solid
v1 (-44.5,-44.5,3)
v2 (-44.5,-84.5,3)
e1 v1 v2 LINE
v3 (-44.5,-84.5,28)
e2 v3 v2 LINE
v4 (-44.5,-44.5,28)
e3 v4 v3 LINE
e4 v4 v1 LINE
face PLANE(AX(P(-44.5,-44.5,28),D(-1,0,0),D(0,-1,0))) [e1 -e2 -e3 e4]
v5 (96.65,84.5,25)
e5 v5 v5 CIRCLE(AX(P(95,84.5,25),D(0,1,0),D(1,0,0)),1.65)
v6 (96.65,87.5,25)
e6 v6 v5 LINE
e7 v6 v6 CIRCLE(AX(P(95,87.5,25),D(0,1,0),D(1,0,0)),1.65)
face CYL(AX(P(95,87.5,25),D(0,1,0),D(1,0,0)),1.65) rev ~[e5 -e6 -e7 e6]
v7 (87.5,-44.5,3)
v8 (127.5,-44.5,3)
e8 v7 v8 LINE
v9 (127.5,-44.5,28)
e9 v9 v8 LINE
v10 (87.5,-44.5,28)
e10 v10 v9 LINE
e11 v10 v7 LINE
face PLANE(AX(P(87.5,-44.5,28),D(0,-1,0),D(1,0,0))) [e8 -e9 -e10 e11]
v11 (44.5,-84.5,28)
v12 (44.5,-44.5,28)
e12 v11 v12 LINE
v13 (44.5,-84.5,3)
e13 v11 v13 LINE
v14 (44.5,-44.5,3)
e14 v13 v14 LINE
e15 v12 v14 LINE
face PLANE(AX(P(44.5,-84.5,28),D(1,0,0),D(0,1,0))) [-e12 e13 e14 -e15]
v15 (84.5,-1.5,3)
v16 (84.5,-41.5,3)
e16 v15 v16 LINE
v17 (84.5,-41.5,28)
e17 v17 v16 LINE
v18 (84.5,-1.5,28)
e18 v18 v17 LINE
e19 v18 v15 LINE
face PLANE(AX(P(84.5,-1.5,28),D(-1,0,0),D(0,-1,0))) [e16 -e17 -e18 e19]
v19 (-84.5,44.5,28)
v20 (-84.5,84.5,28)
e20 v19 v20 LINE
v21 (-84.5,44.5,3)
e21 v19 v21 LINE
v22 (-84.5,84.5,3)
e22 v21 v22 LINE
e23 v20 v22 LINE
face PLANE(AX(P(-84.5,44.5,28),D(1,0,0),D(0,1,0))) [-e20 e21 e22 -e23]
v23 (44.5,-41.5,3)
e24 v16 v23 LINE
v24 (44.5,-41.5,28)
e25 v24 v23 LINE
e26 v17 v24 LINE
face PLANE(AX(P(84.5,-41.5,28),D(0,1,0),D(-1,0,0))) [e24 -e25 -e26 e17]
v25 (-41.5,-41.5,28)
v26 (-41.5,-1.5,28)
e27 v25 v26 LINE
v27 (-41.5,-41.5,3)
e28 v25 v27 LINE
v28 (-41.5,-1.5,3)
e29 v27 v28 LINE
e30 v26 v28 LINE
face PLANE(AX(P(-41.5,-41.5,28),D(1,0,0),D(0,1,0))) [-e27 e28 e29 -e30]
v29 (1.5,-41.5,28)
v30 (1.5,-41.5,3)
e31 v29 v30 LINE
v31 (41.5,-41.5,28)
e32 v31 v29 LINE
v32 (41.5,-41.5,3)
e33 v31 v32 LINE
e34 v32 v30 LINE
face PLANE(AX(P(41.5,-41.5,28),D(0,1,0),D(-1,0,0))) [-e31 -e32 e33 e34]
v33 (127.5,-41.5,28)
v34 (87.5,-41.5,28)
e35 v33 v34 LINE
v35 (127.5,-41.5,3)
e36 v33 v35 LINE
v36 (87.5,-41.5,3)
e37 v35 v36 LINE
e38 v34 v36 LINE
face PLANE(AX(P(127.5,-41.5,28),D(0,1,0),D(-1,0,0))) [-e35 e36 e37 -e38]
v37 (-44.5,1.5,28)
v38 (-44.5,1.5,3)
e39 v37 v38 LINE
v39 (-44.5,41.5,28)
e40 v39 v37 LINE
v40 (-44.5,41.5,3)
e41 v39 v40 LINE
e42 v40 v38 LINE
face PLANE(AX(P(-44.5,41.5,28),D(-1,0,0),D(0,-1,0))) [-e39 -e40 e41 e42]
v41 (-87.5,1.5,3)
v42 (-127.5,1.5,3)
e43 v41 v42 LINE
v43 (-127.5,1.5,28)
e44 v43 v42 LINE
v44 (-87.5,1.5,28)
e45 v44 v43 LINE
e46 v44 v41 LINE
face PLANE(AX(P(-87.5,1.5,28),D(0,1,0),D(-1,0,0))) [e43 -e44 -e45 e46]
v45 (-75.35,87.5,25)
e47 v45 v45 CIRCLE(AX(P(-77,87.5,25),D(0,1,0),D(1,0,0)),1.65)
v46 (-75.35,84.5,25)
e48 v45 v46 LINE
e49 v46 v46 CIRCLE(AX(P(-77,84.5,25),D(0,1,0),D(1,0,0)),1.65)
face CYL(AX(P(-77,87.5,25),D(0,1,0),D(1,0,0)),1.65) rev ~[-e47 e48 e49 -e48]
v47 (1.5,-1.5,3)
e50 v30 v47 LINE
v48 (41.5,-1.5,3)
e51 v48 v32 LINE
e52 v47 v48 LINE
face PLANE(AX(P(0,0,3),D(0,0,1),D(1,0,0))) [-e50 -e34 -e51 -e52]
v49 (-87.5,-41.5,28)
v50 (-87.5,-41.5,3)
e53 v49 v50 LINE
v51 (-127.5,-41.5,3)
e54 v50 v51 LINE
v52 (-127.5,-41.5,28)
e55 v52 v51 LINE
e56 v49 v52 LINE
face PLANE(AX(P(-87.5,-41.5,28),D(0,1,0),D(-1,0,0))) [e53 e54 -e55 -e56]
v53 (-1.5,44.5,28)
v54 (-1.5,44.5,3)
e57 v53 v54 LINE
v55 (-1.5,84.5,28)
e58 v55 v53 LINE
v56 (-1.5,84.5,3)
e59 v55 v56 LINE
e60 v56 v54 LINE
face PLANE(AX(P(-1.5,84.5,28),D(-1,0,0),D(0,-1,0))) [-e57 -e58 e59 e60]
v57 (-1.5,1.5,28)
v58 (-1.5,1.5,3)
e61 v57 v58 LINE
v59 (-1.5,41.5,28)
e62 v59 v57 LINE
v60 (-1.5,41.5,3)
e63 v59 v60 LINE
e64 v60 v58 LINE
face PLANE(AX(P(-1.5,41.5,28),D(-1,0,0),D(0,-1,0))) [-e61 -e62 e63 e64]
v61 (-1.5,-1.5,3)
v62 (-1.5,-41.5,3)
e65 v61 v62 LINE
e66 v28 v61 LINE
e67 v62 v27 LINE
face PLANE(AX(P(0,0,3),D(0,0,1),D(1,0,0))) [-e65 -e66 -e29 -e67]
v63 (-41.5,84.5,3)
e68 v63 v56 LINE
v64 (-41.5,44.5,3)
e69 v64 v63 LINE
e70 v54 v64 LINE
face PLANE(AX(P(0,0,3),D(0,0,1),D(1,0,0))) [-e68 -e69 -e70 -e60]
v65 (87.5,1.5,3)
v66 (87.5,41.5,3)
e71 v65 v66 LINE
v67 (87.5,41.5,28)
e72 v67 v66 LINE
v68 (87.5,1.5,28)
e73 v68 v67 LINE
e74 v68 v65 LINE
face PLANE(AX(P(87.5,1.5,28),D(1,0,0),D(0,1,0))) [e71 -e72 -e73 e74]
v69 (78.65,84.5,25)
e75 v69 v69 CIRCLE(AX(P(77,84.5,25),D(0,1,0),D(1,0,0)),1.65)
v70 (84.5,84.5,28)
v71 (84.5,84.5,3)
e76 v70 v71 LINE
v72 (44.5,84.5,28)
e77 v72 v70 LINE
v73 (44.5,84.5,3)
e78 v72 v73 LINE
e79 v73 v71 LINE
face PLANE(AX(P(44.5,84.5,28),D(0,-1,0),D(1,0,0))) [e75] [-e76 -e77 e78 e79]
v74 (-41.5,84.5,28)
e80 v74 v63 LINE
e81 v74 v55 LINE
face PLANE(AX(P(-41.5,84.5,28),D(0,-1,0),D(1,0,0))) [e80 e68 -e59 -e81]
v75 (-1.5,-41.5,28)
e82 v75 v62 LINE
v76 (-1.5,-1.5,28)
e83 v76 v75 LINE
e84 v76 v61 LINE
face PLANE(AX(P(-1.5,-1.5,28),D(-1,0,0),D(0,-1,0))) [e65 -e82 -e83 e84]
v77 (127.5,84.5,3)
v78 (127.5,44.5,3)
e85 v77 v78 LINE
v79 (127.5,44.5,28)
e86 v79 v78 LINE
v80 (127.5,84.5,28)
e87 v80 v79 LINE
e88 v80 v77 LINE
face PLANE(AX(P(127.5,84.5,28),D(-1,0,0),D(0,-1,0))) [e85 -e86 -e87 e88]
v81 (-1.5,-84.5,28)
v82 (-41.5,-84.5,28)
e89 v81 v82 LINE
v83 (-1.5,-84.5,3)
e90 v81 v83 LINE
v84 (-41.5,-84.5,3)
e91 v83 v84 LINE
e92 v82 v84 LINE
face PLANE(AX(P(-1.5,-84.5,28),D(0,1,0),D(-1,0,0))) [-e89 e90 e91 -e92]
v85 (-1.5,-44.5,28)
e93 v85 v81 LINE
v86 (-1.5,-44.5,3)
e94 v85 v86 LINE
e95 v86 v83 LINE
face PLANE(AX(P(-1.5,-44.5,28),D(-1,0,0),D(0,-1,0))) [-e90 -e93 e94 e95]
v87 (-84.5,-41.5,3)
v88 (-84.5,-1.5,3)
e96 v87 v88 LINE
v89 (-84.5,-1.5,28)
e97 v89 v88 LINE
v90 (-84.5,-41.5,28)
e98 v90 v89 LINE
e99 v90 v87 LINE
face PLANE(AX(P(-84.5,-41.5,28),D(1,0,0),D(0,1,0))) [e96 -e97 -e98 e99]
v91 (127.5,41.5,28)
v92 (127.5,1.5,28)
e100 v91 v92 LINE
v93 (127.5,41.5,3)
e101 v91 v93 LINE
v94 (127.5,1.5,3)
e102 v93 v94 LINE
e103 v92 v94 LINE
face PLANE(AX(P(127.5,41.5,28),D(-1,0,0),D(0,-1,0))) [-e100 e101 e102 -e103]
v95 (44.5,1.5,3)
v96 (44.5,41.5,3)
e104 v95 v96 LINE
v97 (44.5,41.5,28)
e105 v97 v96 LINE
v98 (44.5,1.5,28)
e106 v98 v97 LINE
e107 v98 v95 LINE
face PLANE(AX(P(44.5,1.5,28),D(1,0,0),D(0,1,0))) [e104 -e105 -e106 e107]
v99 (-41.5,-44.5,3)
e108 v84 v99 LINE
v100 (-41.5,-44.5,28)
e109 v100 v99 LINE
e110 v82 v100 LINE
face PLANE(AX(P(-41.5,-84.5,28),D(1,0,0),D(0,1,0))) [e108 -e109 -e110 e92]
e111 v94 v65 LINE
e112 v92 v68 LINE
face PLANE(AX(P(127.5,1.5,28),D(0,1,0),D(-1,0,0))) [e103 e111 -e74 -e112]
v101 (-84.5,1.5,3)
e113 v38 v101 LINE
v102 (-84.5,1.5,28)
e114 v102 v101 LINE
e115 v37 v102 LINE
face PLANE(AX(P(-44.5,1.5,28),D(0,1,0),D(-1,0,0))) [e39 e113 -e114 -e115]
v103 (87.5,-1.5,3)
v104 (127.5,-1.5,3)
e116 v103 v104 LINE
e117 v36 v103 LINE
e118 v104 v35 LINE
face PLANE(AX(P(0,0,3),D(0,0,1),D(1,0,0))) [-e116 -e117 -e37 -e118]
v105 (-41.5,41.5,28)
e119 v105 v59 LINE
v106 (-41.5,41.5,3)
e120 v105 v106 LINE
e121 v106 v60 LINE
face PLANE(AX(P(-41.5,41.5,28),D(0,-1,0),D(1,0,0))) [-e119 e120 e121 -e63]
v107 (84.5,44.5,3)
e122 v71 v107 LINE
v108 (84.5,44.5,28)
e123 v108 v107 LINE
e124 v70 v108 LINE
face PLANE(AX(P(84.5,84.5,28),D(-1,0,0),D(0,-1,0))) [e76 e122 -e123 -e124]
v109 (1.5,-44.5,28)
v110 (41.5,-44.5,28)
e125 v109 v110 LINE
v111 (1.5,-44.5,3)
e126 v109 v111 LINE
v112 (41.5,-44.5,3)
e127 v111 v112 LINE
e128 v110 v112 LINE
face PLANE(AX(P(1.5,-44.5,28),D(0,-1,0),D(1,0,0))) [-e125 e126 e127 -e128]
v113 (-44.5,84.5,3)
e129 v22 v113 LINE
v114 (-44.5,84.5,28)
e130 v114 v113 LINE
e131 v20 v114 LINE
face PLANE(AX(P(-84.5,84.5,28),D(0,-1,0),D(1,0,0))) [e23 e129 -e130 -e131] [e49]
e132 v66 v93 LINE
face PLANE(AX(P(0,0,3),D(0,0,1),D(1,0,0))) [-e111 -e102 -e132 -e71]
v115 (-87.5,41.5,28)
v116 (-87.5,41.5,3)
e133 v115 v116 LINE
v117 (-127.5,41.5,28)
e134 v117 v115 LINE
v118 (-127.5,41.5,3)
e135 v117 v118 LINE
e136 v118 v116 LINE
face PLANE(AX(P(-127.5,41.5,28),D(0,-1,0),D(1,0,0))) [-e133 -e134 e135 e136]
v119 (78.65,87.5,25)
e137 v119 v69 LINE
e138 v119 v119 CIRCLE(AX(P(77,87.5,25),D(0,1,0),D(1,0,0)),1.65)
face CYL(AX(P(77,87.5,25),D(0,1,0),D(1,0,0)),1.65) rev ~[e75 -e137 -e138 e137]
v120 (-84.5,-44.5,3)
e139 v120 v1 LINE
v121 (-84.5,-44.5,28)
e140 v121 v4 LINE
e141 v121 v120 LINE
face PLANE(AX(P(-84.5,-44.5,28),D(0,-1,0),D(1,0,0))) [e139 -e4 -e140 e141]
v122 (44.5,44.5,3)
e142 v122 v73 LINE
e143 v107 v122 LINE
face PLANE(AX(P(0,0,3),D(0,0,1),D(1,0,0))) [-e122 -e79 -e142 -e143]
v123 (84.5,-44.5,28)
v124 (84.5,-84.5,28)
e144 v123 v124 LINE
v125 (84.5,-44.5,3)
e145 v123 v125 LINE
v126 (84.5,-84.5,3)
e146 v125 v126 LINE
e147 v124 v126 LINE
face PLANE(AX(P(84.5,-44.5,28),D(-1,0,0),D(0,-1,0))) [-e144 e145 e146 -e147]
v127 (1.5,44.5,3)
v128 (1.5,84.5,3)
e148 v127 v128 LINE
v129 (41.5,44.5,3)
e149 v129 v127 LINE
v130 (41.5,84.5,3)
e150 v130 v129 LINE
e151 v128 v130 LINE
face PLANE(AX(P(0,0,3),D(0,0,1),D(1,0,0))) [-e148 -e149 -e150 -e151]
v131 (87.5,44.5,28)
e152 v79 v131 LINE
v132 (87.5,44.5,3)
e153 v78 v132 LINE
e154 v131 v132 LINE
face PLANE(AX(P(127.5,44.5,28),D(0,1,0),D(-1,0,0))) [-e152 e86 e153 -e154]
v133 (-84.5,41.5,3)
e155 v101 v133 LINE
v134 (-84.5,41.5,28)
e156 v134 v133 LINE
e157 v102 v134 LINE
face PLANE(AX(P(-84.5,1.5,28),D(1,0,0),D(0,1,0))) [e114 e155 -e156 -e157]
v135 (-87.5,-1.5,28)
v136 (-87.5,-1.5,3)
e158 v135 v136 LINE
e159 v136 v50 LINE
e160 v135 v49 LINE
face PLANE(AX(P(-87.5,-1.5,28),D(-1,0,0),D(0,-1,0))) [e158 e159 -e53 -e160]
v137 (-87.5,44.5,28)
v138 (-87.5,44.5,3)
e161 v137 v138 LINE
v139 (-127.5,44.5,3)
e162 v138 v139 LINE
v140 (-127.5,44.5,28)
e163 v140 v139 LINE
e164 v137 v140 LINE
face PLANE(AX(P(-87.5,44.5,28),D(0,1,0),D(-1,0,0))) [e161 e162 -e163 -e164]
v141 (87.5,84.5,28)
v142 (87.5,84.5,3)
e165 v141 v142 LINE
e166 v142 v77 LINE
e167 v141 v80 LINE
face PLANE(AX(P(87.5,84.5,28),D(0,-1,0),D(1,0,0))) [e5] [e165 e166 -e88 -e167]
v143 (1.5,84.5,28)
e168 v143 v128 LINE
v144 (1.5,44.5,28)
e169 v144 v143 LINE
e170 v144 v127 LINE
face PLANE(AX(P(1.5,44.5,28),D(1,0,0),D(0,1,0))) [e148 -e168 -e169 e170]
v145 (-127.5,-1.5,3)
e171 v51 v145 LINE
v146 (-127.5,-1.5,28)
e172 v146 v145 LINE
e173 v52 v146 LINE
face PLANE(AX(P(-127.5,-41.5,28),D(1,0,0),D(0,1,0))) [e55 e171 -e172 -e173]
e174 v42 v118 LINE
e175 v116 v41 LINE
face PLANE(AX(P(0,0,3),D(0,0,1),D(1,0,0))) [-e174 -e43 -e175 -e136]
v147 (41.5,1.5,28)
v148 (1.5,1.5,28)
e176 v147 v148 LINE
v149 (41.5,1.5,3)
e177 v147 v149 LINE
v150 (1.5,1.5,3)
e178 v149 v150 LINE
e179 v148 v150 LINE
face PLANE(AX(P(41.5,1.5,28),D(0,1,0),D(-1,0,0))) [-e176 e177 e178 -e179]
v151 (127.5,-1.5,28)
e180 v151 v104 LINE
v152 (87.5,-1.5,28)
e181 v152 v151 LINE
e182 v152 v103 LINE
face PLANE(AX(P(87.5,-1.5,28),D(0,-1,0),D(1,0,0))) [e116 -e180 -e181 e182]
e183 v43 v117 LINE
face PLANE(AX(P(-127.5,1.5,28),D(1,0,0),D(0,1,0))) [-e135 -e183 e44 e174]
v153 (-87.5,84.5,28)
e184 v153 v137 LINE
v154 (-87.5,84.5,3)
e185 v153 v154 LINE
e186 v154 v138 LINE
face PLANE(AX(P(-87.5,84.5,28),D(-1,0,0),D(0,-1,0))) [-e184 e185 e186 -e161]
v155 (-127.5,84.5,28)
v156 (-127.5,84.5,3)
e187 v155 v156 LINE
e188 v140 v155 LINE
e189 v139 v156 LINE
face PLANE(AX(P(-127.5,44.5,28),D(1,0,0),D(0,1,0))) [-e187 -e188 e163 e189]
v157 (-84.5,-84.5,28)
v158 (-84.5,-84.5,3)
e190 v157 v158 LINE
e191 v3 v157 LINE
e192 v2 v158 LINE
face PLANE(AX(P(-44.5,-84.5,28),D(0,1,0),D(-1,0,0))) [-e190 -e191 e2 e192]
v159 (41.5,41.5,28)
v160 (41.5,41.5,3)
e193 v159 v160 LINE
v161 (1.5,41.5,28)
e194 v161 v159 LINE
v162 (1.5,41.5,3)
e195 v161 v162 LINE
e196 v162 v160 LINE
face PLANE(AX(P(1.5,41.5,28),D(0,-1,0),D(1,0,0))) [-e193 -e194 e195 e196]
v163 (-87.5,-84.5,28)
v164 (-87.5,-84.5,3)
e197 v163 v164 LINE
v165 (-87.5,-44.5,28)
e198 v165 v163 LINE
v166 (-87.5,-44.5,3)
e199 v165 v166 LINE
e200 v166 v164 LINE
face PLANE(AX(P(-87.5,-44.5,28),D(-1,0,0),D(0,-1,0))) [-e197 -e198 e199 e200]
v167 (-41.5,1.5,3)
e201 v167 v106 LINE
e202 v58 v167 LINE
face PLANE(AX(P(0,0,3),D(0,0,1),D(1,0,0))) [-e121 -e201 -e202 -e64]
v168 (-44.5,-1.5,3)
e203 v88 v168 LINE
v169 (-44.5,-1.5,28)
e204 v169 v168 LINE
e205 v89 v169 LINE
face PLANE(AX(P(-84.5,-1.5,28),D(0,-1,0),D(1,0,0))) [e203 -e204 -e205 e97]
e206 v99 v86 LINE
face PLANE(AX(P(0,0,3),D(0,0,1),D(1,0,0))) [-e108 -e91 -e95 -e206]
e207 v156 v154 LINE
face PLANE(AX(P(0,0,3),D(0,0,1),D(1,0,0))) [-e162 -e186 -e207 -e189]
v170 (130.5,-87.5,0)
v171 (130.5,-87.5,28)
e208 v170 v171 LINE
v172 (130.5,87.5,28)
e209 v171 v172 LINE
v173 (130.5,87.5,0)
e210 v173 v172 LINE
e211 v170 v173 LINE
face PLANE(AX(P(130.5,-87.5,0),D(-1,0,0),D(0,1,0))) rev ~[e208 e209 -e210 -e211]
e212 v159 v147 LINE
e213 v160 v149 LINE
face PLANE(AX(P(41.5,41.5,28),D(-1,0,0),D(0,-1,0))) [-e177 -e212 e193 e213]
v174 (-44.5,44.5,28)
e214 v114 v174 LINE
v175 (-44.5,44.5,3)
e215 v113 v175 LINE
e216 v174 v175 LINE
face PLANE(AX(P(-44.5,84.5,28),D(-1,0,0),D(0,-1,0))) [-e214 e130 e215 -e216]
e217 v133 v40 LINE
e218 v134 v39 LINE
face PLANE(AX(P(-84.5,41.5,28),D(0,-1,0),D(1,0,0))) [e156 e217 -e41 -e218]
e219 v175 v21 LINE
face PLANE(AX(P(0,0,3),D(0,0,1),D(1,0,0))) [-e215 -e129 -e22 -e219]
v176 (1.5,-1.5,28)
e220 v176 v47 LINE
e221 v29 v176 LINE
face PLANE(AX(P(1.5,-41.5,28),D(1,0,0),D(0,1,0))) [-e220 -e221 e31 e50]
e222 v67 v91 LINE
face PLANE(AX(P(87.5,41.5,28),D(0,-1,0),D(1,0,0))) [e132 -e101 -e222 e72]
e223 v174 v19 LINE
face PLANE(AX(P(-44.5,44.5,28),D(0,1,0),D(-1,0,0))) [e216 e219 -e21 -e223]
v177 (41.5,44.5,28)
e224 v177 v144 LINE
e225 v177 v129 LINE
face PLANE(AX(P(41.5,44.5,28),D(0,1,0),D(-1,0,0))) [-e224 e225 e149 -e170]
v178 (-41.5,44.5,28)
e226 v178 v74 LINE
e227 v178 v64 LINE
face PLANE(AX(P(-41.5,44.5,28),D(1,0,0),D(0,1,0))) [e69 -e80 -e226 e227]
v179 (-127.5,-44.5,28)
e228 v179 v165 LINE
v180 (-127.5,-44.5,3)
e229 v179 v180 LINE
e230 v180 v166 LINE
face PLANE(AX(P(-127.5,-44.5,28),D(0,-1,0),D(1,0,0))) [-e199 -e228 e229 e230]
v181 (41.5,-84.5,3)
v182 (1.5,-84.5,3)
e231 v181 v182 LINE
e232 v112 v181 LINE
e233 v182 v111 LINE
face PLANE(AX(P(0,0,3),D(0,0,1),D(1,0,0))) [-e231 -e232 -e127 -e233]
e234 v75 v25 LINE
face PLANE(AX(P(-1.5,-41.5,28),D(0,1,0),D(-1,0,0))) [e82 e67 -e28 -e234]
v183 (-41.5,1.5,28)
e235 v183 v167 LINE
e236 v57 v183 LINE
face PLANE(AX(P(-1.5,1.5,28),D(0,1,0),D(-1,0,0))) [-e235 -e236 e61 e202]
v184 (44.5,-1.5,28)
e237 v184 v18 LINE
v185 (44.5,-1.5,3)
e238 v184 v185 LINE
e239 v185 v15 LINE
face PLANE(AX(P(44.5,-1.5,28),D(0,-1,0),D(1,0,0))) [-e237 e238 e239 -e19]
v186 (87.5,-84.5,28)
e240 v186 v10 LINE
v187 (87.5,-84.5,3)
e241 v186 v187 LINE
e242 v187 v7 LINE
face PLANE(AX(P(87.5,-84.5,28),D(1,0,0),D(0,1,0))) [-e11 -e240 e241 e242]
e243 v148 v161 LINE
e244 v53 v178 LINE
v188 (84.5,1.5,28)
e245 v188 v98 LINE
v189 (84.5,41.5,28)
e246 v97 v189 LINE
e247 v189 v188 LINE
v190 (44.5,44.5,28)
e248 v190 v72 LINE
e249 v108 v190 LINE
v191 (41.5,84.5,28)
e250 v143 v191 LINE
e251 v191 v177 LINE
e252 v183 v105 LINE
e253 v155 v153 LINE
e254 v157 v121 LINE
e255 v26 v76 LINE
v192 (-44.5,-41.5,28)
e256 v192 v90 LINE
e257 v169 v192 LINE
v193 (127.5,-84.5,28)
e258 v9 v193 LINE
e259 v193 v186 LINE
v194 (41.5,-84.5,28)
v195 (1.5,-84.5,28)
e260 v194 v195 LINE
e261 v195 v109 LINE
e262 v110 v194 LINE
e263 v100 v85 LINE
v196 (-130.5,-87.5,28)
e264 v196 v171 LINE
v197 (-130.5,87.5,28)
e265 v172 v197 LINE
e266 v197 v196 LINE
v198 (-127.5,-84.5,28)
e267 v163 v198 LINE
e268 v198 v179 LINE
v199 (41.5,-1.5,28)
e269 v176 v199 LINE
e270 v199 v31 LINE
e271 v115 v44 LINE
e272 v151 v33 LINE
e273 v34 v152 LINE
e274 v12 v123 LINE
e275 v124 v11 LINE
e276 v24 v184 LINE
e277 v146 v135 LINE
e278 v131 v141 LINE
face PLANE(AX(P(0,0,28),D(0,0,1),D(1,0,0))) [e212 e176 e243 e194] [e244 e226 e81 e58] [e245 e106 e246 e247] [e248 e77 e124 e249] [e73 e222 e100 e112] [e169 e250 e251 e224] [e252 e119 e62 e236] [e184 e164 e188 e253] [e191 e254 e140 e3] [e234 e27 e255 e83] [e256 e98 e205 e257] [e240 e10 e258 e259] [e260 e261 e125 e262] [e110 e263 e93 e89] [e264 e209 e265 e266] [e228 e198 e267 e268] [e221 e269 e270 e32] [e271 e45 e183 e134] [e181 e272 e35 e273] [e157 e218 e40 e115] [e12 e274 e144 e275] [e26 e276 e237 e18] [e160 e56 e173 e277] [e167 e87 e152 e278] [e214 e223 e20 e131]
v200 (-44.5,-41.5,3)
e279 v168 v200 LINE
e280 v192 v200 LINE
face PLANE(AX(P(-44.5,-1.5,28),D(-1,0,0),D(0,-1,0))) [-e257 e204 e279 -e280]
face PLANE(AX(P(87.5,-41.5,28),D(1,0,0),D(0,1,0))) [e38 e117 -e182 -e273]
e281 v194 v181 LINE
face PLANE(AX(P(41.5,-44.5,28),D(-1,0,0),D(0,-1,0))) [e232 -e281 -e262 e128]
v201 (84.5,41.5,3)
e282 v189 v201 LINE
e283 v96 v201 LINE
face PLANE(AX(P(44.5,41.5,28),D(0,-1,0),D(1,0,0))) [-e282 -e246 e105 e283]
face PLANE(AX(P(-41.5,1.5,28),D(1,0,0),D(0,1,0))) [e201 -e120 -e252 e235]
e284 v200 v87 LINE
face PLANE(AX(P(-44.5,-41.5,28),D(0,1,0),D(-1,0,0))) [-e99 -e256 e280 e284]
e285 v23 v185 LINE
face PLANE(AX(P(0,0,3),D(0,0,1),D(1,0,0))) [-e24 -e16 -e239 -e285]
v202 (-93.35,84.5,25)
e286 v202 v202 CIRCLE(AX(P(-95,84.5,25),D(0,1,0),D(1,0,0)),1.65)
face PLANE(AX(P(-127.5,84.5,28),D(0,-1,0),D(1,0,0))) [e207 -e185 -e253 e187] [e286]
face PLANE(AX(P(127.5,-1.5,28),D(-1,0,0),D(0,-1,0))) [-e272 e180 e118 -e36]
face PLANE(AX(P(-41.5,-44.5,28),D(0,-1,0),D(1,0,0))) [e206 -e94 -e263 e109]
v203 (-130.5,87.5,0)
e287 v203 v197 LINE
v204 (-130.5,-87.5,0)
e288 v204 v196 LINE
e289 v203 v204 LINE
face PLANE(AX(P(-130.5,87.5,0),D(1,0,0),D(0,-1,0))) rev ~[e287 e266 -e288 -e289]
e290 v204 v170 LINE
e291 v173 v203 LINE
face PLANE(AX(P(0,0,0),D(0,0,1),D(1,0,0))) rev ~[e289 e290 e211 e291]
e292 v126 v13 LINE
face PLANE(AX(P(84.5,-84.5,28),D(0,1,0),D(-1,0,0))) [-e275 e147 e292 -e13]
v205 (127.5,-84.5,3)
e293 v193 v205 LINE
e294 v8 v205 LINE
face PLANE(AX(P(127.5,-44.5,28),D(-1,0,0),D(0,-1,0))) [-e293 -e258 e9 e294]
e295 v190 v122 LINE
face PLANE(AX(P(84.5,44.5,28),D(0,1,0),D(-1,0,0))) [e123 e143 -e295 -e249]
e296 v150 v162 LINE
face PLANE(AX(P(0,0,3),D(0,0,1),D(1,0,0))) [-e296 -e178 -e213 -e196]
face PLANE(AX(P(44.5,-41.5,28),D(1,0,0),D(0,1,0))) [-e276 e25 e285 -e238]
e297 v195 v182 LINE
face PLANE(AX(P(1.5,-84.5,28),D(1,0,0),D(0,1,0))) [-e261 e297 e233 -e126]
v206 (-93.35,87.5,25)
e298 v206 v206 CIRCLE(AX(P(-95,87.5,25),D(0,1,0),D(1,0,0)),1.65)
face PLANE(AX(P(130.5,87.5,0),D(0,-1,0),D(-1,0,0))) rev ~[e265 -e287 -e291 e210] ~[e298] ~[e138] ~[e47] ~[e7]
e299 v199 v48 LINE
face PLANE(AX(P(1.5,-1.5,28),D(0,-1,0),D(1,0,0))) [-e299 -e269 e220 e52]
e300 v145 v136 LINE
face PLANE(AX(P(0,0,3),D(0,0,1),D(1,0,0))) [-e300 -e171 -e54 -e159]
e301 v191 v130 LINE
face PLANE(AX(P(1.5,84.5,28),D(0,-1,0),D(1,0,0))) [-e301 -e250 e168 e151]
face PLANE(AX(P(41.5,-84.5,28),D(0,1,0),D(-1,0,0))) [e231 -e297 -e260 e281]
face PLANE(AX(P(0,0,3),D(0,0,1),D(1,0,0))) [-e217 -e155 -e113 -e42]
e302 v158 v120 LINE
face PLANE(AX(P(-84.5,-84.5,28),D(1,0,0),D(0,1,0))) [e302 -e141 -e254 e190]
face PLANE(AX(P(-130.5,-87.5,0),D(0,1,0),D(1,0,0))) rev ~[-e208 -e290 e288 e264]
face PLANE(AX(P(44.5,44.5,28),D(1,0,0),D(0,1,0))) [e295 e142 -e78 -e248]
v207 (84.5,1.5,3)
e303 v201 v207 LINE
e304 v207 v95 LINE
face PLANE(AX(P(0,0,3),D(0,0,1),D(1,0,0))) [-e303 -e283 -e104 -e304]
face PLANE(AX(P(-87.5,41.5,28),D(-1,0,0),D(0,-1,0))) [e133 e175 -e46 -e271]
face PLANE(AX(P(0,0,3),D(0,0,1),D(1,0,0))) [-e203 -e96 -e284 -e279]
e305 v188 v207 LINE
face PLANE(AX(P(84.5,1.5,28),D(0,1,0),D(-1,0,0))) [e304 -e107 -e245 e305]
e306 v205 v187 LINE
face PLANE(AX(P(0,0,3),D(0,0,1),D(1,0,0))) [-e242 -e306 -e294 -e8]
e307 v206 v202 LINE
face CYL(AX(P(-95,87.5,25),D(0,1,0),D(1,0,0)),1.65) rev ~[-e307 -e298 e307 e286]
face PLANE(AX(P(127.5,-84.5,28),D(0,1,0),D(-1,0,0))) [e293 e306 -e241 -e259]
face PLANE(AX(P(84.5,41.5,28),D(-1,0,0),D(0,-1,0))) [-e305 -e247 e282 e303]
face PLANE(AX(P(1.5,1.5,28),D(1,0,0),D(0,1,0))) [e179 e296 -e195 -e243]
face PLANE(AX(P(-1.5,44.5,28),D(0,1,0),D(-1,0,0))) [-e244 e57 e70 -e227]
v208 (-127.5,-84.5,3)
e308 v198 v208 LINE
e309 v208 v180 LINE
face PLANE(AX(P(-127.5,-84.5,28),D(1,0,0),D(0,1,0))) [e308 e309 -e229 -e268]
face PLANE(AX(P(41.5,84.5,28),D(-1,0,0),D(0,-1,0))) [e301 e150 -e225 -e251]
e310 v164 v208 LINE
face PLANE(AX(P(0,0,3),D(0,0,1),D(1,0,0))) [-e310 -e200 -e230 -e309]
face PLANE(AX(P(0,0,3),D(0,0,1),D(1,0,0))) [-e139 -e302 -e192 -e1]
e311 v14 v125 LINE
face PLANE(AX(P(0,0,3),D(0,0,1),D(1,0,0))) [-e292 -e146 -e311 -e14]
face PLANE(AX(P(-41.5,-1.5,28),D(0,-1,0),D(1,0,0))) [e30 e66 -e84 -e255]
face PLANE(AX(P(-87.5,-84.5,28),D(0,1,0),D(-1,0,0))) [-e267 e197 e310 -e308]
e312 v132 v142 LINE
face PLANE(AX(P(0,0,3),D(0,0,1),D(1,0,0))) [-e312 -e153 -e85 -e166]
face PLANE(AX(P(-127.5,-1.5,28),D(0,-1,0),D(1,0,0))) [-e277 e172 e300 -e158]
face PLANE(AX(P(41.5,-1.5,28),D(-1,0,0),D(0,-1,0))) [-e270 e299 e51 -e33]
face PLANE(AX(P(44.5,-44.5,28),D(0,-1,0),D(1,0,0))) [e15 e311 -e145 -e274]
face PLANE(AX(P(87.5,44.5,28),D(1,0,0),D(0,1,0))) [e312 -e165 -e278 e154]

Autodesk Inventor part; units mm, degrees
ref_plane "YZ Plane" through (0, 0, 0) normal (1, 0, 0) x (0, 1, 0)
ref_plane "XZ Plane" through (0, 0, 0) normal (0, 1, 0) x (-1, 0, 0)
ref_plane "XY Plane" through (0, 0, 0) normal (0, 0, 1) x (1, 0, 0)
sketch "Sketch1" plane through (0, 0, 0) normal (0, 0, 1) x (1, 0, 0)
  line L0 (-130.5, -87.5) -> (130.5, -87.5)
  line L1 (130.5, -87.5) -> (130.5, 87.5)
  line L2 (130.5, 87.5) -> (-130.5, 87.5)
  line L3 (-130.5, 87.5) -> (-130.5, -87.5)
  line L4 (-130.5, -87.5) -> (130.5, 87.5) construction
  line L5 (130.5, -87.5) -> (-130.5, 87.5) construction
  point P0 (0, 0)
  dimension "d0" = 261
  dimension "d1" = 175
extrude "Extrusion1" add sketch "Sketch1" along normal blind 28
sketch "Sketch2" plane through (0, 0, 28) normal (0, 0, 1) x (1, 0, 0)
  line L0 (-127.5, 84.5) -> (-87.5, 84.5)
  line L1 (-87.5, 84.5) -> (-87.5, 44.5)
  line L2 (-87.5, 44.5) -> (-127.5, 44.5)
  line L3 (-127.5, 44.5) -> (-127.5, 84.5)
  line L4 (-127.5, 84.5) -> (-87.5, 44.5) construction
  line L5 (-87.5, 84.5) -> (-127.5, 44.5) construction
  line L6 (130.5, 87.5) -> (-130.5, 87.5) projected
  line L7 (-130.5, 87.5) -> (-130.5, -87.5) projected
  line L8 (-84.5, 84.5) -> (-44.5, 84.5)
  line L9 (-44.5, 84.5) -> (-44.5, 44.5)
  line L10 (-44.5, 44.5) -> (-84.5, 44.5)
  line L11 (-84.5, 44.5) -> (-84.5, 84.5)
  line L12 (-84.5, 84.5) -> (-44.5, 44.5) construction
  line L13 (-44.5, 84.5) -> (-84.5, 44.5) construction
  line L14 (-41.5, 84.5) -> (-1.5, 84.5)
  line L15 (-1.5, 84.5) -> (-1.5, 44.5)
  line L16 (-1.5, 44.5) -> (-41.5, 44.5)
  line L17 (-41.5, 44.5) -> (-41.5, 84.5)
  line L18 (-41.5, 84.5) -> (-1.5, 44.5) construction
  line L19 (-1.5, 84.5) -> (-41.5, 44.5) construction
  line L20 (1.5, 84.5) -> (41.5, 84.5)
  line L21 (41.5, 84.5) -> (41.5, 44.5)
  line L22 (41.5, 44.5) -> (1.5, 44.5)
  line L23 (1.5, 44.5) -> (1.5, 84.5)
  line L24 (1.5, 84.5) -> (41.5, 44.5) construction
  line L25 (41.5, 84.5) -> (1.5, 44.5) construction
  line L26 (44.5, 84.5) -> (84.5, 84.5)
  line L27 (84.5, 84.5) -> (84.5, 44.5)
  line L28 (84.5, 44.5) -> (44.5, 44.5)
  line L29 (44.5, 44.5) -> (44.5, 84.5)
  line L30 (44.5, 84.5) -> (84.5, 44.5) construction
  line L31 (84.5, 84.5) -> (44.5, 44.5) construction
  line L32 (-127.5, 41.5) -> (-87.5, 41.5)
  line L33 (-87.5, 41.5) -> (-87.5, 1.5)
  line L34 (-87.5, 1.5) -> (-127.5, 1.5)
  line L35 (-127.5, 1.5) -> (-127.5, 41.5)
  line L36 (-127.5, 41.5) -> (-87.5, 1.5) construction
  line L37 (-87.5, 41.5) -> (-127.5, 1.5) construction
  line L38 (-84.5, 41.5) -> (-44.5, 41.5)
  line L39 (-44.5, 41.5) -> (-44.5, 1.5)
  line L40 (-44.5, 1.5) -> (-84.5, 1.5)
  line L41 (-84.5, 1.5) -> (-84.5, 41.5)
  line L42 (-84.5, 41.5) -> (-44.5, 1.5) construction
  line L43 (-44.5, 41.5) -> (-84.5, 1.5) construction
  line L44 (-41.5, 41.5) -> (-1.5, 41.5)
  line L45 (-1.5, 41.5) -> (-1.5, 1.5)
  line L46 (-1.5, 1.5) -> (-41.5, 1.5)
  line L47 (-41.5, 1.5) -> (-41.5, 41.5)
  line L48 (-41.5, 41.5) -> (-1.5, 1.5) construction
  line L49 (-1.5, 41.5) -> (-41.5, 1.5) construction
  line L50 (1.5, 41.5) -> (41.5, 41.5)
  line L51 (41.5, 41.5) -> (41.5, 1.5)
  line L52 (41.5, 1.5) -> (1.5, 1.5)
  line L53 (1.5, 1.5) -> (1.5, 41.5)
  line L54 (1.5, 41.5) -> (41.5, 1.5) construction
  line L55 (41.5, 41.5) -> (1.5, 1.5) construction
  line L56 (44.5, 41.5) -> (84.5, 41.5)
  line L57 (84.5, 41.5) -> (84.5, 1.5)
  line L58 (84.5, 1.5) -> (44.5, 1.5)
  line L59 (44.5, 1.5) -> (44.5, 41.5)
  line L60 (44.5, 41.5) -> (84.5, 1.5) construction
  line L61 (84.5, 41.5) -> (44.5, 1.5) construction
  line L62 (-127.5, -1.5) -> (-87.5, -1.5)
  line L63 (-87.5, -1.5) -> (-87.5, -41.5)
  line L64 (-87.5, -41.5) -> (-127.5, -41.5)
  line L65 (-127.5, -41.5) -> (-127.5, -1.5)
  line L66 (-127.5, -1.5) -> (-87.5, -41.5) construction
  line L67 (-87.5, -1.5) -> (-127.5, -41.5) construction
  line L68 (-84.5, -1.5) -> (-44.5, -1.5)
  line L69 (-44.5, -1.5) -> (-44.5, -41.5)
  line L70 (-44.5, -41.5) -> (-84.5, -41.5)
  line L71 (-84.5, -41.5) -> (-84.5, -1.5)
  line L72 (-84.5, -1.5) -> (-44.5, -41.5) construction
  line L73 (-44.5, -1.5) -> (-84.5, -41.5) construction
  line L74 (-41.5, -1.5) -> (-1.5, -1.5)
  line L75 (-1.5, -1.5) -> (-1.5, -41.5)
  line L76 (-1.5, -41.5) -> (-41.5, -41.5)
  line L77 (-41.5, -41.5) -> (-41.5, -1.5)
  line L78 (-41.5, -1.5) -> (-1.5, -41.5) construction
  line L79 (-1.5, -1.5) -> (-41.5, -41.5) construction
  line L80 (1.5, -1.5) -> (41.5, -1.5)
  line L81 (41.5, -1.5) -> (41.5, -41.5)
  line L82 (41.5, -41.5) -> (1.5, -41.5)
  line L83 (1.5, -41.5) -> (1.5, -1.5)
  line L84 (1.5, -1.5) -> (41.5, -41.5) construction
  line L85 (41.5, -1.5) -> (1.5, -41.5) construction
  line L86 (44.5, -1.5) -> (84.5, -1.5)
  line L87 (84.5, -1.5) -> (84.5, -41.5)
  line L88 (84.5, -41.5) -> (44.5, -41.5)
  line L89 (44.5, -41.5) -> (44.5, -1.5)
  line L90 (44.5, -1.5) -> (84.5, -41.5) construction
  line L91 (84.5, -1.5) -> (44.5, -41.5) construction
  line L92 (-127.5, -44.5) -> (-87.5, -44.5)
  line L93 (-87.5, -44.5) -> (-87.5, -84.5)
  line L94 (-87.5, -84.5) -> (-127.5, -84.5)
  line L95 (-127.5, -84.5) -> (-127.5, -44.5)
  line L96 (-127.5, -44.5) -> (-87.5, -84.5) construction
  line L97 (-87.5, -44.5) -> (-127.5, -84.5) construction
  line L98 (-84.5, -44.5) -> (-44.5, -44.5)
  line L99 (-44.5, -44.5) -> (-44.5, -84.5)
  line L100 (-44.5, -84.5) -> (-84.5, -84.5)
  line L101 (-84.5, -84.5) -> (-84.5, -44.5)
  line L102 (-84.5, -44.5) -> (-44.5, -84.5) construction
  line L103 (-44.5, -44.5) -> (-84.5, -84.5) construction
  line L104 (-41.5, -44.5) -> (-1.5, -44.5)
  line L105 (-1.5, -44.5) -> (-1.5, -84.5)
  line L106 (-1.5, -84.5) -> (-41.5, -84.5)
  line L107 (-41.5, -84.5) -> (-41.5, -44.5)
  line L108 (-41.5, -44.5) -> (-1.5, -84.5) construction
  line L109 (-1.5, -44.5) -> (-41.5, -84.5) construction
  line L110 (1.5, -44.5) -> (41.5, -44.5)
  line L111 (41.5, -44.5) -> (41.5, -84.5)
  line L112 (41.5, -84.5) -> (1.5, -84.5)
  line L113 (1.5, -84.5) -> (1.5, -44.5)
  line L114 (1.5, -44.5) -> (41.5, -84.5) construction
  line L115 (41.5, -44.5) -> (1.5, -84.5) construction
  line L116 (44.5, -44.5) -> (84.5, -44.5)
  line L117 (84.5, -44.5) -> (84.5, -84.5)
  line L118 (84.5, -84.5) -> (44.5, -84.5)
  line L119 (44.5, -84.5) -> (44.5, -44.5)
  line L120 (44.5, -44.5) -> (84.5, -84.5) construction
  line L121 (84.5, -44.5) -> (44.5, -84.5) construction
  line L122 (87.5, 84.5) -> (127.5, 84.5)
  line L123 (127.5, 84.5) -> (127.5, 44.5)
  line L124 (127.5, 44.5) -> (87.5, 44.5)
  line L125 (87.5, 44.5) -> (87.5, 84.5)
  line L126 (87.5, 84.5) -> (127.5, 44.5) construction
  line L127 (127.5, 84.5) -> (87.5, 44.5) construction
  line L128 (87.5, 41.5) -> (127.5, 41.5)
  line L129 (127.5, 41.5) -> (127.5, 1.5)
  line L130 (127.5, 1.5) -> (87.5, 1.5)
  line L131 (87.5, 1.5) -> (87.5, 41.5)
  line L132 (87.5, 41.5) -> (127.5, 1.5) construction
  line L133 (127.5, 41.5) -> (87.5, 1.5) construction
  line L134 (87.5, -1.5) -> (127.5, -1.5)
  line L135 (127.5, -1.5) -> (127.5, -41.5)
  line L136 (127.5, -41.5) -> (87.5, -41.5)
  line L137 (87.5, -41.5) -> (87.5, -1.5)
  line L138 (87.5, -1.5) -> (127.5, -41.5) construction
  line L139 (127.5, -1.5) -> (87.5, -41.5) construction
  line L140 (87.5, -44.5) -> (127.5, -44.5)
  line L141 (127.5, -44.5) -> (127.5, -84.5)
  line L142 (127.5, -84.5) -> (87.5, -84.5)
  line L143 (87.5, -84.5) -> (87.5, -44.5)
  line L144 (87.5, -44.5) -> (127.5, -84.5) construction
  line L145 (127.5, -44.5) -> (87.5, -84.5) construction
  point P0 (0, 0)
  point P1 (-107.5, 64.5)
  point P2 (-64.5, 64.5)
  point P3 (-21.5, 64.5)
  point P4 (21.5, 64.5)
  point P5 (64.5, 64.5)
  point P6 (-107.5, 21.5)
  point P7 (-64.5, 21.5)
  point P8 (-21.5, 21.5)
  point P9 (21.5, 21.5)
  point P10 (64.5, 21.5)
  point P11 (-107.5, -21.5)
  point P12 (-64.5, -21.5)
  point P13 (-21.5, -21.5)
  point P14 (21.5, -21.5)
  point P15 (64.5, -21.5)
  point P16 (-107.5, -64.5)
  point P17 (-64.5, -64.5)
  point P18 (-21.5, -64.5)
  point P19 (21.5, -64.5)
  point P20 (64.5, -64.5)
  point P21 (107.5, 64.5)
  point P22 (107.5, 21.5)
  point P23 (107.5, -21.5)
  point P24 (107.5, -64.5)
  dimension "d4" = 40
  dimension "d5" = 3
  dimension "d6" = 3
  dimension "d7" = 40
  dimension "d10" = 43
  dimension "d13" = 43
extrude "Extrusion2" cut sketch "Sketch2" against normal blind 25
sketch "Sketch3" plane through (-130.5, 87.5, 0) normal (0, 1, 0) x (1, 0, 0)
  line L0 (46, -28) -> (46, -3) construction
  line L1 (43, -28) -> (43, -3) construction
  line L2 (43, -28) -> (43, -3) projected
  line L3 (43, -25) -> (46, -25) construction
  line L4 (46, -28) -> (46, -3) projected
  line L5 (261, -28) -> (0, -28) projected
  circle A0 centre (53.5, -25) radius 1.65
  circle A1 centre (35.5, -25) radius 1.65
  line L6 (172, -28) -> (172, -3) construction
  line L7 (175, -28) -> (175, -3) construction
  circle A2 centre (225.5, -25) radius 1.65
  circle A3 centre (207.5, -25) radius 1.65
  line L8 (261, 0) -> (261, -28) projected
  point P0 (130.5, 0)
  point P1 (44.5, -25)
  dimension "d20" = 3
  dimension "d21" = 3.3
  dimension "d22" = 9
  dimension "d23" = 3.3
  dimension "d24" = 9
  dimension "d25" = 3.3
  dimension "d31" = 3.3
  dimension "d35" = 18
  dimension "d36" = 35.5
extrude "Extrusion3" cut sketch "Sketch3" against normal blind 10
equation "\"d0\" = box_length"
equation "\"d1\" = box_width"
equation "\"d2\" = hole_height + wall"
equation "\"d4\" = hole"
equation "\"d5\" = wall"
equation "\"d6\" = wall"
equation "\"d7\" = hole"
equation "\"d10\" = hole + wall"
equation "\"d13\" = hole + wall"
equation "\"d16\" = hole_height"
equation "\"d23\" = d21"
equation "\"d24\" = d22"
equation "\"d25\" = d21"
equation "\"d31\" = d25"
equation "\"hole\" = 40"
equation "\"wall\" = 3"
equation "\"hole_height\" = 25"
equation "\"box_length\" = 261"
equation "\"box_width\" = 175"
properties part number "RatPelletBox_v03"
